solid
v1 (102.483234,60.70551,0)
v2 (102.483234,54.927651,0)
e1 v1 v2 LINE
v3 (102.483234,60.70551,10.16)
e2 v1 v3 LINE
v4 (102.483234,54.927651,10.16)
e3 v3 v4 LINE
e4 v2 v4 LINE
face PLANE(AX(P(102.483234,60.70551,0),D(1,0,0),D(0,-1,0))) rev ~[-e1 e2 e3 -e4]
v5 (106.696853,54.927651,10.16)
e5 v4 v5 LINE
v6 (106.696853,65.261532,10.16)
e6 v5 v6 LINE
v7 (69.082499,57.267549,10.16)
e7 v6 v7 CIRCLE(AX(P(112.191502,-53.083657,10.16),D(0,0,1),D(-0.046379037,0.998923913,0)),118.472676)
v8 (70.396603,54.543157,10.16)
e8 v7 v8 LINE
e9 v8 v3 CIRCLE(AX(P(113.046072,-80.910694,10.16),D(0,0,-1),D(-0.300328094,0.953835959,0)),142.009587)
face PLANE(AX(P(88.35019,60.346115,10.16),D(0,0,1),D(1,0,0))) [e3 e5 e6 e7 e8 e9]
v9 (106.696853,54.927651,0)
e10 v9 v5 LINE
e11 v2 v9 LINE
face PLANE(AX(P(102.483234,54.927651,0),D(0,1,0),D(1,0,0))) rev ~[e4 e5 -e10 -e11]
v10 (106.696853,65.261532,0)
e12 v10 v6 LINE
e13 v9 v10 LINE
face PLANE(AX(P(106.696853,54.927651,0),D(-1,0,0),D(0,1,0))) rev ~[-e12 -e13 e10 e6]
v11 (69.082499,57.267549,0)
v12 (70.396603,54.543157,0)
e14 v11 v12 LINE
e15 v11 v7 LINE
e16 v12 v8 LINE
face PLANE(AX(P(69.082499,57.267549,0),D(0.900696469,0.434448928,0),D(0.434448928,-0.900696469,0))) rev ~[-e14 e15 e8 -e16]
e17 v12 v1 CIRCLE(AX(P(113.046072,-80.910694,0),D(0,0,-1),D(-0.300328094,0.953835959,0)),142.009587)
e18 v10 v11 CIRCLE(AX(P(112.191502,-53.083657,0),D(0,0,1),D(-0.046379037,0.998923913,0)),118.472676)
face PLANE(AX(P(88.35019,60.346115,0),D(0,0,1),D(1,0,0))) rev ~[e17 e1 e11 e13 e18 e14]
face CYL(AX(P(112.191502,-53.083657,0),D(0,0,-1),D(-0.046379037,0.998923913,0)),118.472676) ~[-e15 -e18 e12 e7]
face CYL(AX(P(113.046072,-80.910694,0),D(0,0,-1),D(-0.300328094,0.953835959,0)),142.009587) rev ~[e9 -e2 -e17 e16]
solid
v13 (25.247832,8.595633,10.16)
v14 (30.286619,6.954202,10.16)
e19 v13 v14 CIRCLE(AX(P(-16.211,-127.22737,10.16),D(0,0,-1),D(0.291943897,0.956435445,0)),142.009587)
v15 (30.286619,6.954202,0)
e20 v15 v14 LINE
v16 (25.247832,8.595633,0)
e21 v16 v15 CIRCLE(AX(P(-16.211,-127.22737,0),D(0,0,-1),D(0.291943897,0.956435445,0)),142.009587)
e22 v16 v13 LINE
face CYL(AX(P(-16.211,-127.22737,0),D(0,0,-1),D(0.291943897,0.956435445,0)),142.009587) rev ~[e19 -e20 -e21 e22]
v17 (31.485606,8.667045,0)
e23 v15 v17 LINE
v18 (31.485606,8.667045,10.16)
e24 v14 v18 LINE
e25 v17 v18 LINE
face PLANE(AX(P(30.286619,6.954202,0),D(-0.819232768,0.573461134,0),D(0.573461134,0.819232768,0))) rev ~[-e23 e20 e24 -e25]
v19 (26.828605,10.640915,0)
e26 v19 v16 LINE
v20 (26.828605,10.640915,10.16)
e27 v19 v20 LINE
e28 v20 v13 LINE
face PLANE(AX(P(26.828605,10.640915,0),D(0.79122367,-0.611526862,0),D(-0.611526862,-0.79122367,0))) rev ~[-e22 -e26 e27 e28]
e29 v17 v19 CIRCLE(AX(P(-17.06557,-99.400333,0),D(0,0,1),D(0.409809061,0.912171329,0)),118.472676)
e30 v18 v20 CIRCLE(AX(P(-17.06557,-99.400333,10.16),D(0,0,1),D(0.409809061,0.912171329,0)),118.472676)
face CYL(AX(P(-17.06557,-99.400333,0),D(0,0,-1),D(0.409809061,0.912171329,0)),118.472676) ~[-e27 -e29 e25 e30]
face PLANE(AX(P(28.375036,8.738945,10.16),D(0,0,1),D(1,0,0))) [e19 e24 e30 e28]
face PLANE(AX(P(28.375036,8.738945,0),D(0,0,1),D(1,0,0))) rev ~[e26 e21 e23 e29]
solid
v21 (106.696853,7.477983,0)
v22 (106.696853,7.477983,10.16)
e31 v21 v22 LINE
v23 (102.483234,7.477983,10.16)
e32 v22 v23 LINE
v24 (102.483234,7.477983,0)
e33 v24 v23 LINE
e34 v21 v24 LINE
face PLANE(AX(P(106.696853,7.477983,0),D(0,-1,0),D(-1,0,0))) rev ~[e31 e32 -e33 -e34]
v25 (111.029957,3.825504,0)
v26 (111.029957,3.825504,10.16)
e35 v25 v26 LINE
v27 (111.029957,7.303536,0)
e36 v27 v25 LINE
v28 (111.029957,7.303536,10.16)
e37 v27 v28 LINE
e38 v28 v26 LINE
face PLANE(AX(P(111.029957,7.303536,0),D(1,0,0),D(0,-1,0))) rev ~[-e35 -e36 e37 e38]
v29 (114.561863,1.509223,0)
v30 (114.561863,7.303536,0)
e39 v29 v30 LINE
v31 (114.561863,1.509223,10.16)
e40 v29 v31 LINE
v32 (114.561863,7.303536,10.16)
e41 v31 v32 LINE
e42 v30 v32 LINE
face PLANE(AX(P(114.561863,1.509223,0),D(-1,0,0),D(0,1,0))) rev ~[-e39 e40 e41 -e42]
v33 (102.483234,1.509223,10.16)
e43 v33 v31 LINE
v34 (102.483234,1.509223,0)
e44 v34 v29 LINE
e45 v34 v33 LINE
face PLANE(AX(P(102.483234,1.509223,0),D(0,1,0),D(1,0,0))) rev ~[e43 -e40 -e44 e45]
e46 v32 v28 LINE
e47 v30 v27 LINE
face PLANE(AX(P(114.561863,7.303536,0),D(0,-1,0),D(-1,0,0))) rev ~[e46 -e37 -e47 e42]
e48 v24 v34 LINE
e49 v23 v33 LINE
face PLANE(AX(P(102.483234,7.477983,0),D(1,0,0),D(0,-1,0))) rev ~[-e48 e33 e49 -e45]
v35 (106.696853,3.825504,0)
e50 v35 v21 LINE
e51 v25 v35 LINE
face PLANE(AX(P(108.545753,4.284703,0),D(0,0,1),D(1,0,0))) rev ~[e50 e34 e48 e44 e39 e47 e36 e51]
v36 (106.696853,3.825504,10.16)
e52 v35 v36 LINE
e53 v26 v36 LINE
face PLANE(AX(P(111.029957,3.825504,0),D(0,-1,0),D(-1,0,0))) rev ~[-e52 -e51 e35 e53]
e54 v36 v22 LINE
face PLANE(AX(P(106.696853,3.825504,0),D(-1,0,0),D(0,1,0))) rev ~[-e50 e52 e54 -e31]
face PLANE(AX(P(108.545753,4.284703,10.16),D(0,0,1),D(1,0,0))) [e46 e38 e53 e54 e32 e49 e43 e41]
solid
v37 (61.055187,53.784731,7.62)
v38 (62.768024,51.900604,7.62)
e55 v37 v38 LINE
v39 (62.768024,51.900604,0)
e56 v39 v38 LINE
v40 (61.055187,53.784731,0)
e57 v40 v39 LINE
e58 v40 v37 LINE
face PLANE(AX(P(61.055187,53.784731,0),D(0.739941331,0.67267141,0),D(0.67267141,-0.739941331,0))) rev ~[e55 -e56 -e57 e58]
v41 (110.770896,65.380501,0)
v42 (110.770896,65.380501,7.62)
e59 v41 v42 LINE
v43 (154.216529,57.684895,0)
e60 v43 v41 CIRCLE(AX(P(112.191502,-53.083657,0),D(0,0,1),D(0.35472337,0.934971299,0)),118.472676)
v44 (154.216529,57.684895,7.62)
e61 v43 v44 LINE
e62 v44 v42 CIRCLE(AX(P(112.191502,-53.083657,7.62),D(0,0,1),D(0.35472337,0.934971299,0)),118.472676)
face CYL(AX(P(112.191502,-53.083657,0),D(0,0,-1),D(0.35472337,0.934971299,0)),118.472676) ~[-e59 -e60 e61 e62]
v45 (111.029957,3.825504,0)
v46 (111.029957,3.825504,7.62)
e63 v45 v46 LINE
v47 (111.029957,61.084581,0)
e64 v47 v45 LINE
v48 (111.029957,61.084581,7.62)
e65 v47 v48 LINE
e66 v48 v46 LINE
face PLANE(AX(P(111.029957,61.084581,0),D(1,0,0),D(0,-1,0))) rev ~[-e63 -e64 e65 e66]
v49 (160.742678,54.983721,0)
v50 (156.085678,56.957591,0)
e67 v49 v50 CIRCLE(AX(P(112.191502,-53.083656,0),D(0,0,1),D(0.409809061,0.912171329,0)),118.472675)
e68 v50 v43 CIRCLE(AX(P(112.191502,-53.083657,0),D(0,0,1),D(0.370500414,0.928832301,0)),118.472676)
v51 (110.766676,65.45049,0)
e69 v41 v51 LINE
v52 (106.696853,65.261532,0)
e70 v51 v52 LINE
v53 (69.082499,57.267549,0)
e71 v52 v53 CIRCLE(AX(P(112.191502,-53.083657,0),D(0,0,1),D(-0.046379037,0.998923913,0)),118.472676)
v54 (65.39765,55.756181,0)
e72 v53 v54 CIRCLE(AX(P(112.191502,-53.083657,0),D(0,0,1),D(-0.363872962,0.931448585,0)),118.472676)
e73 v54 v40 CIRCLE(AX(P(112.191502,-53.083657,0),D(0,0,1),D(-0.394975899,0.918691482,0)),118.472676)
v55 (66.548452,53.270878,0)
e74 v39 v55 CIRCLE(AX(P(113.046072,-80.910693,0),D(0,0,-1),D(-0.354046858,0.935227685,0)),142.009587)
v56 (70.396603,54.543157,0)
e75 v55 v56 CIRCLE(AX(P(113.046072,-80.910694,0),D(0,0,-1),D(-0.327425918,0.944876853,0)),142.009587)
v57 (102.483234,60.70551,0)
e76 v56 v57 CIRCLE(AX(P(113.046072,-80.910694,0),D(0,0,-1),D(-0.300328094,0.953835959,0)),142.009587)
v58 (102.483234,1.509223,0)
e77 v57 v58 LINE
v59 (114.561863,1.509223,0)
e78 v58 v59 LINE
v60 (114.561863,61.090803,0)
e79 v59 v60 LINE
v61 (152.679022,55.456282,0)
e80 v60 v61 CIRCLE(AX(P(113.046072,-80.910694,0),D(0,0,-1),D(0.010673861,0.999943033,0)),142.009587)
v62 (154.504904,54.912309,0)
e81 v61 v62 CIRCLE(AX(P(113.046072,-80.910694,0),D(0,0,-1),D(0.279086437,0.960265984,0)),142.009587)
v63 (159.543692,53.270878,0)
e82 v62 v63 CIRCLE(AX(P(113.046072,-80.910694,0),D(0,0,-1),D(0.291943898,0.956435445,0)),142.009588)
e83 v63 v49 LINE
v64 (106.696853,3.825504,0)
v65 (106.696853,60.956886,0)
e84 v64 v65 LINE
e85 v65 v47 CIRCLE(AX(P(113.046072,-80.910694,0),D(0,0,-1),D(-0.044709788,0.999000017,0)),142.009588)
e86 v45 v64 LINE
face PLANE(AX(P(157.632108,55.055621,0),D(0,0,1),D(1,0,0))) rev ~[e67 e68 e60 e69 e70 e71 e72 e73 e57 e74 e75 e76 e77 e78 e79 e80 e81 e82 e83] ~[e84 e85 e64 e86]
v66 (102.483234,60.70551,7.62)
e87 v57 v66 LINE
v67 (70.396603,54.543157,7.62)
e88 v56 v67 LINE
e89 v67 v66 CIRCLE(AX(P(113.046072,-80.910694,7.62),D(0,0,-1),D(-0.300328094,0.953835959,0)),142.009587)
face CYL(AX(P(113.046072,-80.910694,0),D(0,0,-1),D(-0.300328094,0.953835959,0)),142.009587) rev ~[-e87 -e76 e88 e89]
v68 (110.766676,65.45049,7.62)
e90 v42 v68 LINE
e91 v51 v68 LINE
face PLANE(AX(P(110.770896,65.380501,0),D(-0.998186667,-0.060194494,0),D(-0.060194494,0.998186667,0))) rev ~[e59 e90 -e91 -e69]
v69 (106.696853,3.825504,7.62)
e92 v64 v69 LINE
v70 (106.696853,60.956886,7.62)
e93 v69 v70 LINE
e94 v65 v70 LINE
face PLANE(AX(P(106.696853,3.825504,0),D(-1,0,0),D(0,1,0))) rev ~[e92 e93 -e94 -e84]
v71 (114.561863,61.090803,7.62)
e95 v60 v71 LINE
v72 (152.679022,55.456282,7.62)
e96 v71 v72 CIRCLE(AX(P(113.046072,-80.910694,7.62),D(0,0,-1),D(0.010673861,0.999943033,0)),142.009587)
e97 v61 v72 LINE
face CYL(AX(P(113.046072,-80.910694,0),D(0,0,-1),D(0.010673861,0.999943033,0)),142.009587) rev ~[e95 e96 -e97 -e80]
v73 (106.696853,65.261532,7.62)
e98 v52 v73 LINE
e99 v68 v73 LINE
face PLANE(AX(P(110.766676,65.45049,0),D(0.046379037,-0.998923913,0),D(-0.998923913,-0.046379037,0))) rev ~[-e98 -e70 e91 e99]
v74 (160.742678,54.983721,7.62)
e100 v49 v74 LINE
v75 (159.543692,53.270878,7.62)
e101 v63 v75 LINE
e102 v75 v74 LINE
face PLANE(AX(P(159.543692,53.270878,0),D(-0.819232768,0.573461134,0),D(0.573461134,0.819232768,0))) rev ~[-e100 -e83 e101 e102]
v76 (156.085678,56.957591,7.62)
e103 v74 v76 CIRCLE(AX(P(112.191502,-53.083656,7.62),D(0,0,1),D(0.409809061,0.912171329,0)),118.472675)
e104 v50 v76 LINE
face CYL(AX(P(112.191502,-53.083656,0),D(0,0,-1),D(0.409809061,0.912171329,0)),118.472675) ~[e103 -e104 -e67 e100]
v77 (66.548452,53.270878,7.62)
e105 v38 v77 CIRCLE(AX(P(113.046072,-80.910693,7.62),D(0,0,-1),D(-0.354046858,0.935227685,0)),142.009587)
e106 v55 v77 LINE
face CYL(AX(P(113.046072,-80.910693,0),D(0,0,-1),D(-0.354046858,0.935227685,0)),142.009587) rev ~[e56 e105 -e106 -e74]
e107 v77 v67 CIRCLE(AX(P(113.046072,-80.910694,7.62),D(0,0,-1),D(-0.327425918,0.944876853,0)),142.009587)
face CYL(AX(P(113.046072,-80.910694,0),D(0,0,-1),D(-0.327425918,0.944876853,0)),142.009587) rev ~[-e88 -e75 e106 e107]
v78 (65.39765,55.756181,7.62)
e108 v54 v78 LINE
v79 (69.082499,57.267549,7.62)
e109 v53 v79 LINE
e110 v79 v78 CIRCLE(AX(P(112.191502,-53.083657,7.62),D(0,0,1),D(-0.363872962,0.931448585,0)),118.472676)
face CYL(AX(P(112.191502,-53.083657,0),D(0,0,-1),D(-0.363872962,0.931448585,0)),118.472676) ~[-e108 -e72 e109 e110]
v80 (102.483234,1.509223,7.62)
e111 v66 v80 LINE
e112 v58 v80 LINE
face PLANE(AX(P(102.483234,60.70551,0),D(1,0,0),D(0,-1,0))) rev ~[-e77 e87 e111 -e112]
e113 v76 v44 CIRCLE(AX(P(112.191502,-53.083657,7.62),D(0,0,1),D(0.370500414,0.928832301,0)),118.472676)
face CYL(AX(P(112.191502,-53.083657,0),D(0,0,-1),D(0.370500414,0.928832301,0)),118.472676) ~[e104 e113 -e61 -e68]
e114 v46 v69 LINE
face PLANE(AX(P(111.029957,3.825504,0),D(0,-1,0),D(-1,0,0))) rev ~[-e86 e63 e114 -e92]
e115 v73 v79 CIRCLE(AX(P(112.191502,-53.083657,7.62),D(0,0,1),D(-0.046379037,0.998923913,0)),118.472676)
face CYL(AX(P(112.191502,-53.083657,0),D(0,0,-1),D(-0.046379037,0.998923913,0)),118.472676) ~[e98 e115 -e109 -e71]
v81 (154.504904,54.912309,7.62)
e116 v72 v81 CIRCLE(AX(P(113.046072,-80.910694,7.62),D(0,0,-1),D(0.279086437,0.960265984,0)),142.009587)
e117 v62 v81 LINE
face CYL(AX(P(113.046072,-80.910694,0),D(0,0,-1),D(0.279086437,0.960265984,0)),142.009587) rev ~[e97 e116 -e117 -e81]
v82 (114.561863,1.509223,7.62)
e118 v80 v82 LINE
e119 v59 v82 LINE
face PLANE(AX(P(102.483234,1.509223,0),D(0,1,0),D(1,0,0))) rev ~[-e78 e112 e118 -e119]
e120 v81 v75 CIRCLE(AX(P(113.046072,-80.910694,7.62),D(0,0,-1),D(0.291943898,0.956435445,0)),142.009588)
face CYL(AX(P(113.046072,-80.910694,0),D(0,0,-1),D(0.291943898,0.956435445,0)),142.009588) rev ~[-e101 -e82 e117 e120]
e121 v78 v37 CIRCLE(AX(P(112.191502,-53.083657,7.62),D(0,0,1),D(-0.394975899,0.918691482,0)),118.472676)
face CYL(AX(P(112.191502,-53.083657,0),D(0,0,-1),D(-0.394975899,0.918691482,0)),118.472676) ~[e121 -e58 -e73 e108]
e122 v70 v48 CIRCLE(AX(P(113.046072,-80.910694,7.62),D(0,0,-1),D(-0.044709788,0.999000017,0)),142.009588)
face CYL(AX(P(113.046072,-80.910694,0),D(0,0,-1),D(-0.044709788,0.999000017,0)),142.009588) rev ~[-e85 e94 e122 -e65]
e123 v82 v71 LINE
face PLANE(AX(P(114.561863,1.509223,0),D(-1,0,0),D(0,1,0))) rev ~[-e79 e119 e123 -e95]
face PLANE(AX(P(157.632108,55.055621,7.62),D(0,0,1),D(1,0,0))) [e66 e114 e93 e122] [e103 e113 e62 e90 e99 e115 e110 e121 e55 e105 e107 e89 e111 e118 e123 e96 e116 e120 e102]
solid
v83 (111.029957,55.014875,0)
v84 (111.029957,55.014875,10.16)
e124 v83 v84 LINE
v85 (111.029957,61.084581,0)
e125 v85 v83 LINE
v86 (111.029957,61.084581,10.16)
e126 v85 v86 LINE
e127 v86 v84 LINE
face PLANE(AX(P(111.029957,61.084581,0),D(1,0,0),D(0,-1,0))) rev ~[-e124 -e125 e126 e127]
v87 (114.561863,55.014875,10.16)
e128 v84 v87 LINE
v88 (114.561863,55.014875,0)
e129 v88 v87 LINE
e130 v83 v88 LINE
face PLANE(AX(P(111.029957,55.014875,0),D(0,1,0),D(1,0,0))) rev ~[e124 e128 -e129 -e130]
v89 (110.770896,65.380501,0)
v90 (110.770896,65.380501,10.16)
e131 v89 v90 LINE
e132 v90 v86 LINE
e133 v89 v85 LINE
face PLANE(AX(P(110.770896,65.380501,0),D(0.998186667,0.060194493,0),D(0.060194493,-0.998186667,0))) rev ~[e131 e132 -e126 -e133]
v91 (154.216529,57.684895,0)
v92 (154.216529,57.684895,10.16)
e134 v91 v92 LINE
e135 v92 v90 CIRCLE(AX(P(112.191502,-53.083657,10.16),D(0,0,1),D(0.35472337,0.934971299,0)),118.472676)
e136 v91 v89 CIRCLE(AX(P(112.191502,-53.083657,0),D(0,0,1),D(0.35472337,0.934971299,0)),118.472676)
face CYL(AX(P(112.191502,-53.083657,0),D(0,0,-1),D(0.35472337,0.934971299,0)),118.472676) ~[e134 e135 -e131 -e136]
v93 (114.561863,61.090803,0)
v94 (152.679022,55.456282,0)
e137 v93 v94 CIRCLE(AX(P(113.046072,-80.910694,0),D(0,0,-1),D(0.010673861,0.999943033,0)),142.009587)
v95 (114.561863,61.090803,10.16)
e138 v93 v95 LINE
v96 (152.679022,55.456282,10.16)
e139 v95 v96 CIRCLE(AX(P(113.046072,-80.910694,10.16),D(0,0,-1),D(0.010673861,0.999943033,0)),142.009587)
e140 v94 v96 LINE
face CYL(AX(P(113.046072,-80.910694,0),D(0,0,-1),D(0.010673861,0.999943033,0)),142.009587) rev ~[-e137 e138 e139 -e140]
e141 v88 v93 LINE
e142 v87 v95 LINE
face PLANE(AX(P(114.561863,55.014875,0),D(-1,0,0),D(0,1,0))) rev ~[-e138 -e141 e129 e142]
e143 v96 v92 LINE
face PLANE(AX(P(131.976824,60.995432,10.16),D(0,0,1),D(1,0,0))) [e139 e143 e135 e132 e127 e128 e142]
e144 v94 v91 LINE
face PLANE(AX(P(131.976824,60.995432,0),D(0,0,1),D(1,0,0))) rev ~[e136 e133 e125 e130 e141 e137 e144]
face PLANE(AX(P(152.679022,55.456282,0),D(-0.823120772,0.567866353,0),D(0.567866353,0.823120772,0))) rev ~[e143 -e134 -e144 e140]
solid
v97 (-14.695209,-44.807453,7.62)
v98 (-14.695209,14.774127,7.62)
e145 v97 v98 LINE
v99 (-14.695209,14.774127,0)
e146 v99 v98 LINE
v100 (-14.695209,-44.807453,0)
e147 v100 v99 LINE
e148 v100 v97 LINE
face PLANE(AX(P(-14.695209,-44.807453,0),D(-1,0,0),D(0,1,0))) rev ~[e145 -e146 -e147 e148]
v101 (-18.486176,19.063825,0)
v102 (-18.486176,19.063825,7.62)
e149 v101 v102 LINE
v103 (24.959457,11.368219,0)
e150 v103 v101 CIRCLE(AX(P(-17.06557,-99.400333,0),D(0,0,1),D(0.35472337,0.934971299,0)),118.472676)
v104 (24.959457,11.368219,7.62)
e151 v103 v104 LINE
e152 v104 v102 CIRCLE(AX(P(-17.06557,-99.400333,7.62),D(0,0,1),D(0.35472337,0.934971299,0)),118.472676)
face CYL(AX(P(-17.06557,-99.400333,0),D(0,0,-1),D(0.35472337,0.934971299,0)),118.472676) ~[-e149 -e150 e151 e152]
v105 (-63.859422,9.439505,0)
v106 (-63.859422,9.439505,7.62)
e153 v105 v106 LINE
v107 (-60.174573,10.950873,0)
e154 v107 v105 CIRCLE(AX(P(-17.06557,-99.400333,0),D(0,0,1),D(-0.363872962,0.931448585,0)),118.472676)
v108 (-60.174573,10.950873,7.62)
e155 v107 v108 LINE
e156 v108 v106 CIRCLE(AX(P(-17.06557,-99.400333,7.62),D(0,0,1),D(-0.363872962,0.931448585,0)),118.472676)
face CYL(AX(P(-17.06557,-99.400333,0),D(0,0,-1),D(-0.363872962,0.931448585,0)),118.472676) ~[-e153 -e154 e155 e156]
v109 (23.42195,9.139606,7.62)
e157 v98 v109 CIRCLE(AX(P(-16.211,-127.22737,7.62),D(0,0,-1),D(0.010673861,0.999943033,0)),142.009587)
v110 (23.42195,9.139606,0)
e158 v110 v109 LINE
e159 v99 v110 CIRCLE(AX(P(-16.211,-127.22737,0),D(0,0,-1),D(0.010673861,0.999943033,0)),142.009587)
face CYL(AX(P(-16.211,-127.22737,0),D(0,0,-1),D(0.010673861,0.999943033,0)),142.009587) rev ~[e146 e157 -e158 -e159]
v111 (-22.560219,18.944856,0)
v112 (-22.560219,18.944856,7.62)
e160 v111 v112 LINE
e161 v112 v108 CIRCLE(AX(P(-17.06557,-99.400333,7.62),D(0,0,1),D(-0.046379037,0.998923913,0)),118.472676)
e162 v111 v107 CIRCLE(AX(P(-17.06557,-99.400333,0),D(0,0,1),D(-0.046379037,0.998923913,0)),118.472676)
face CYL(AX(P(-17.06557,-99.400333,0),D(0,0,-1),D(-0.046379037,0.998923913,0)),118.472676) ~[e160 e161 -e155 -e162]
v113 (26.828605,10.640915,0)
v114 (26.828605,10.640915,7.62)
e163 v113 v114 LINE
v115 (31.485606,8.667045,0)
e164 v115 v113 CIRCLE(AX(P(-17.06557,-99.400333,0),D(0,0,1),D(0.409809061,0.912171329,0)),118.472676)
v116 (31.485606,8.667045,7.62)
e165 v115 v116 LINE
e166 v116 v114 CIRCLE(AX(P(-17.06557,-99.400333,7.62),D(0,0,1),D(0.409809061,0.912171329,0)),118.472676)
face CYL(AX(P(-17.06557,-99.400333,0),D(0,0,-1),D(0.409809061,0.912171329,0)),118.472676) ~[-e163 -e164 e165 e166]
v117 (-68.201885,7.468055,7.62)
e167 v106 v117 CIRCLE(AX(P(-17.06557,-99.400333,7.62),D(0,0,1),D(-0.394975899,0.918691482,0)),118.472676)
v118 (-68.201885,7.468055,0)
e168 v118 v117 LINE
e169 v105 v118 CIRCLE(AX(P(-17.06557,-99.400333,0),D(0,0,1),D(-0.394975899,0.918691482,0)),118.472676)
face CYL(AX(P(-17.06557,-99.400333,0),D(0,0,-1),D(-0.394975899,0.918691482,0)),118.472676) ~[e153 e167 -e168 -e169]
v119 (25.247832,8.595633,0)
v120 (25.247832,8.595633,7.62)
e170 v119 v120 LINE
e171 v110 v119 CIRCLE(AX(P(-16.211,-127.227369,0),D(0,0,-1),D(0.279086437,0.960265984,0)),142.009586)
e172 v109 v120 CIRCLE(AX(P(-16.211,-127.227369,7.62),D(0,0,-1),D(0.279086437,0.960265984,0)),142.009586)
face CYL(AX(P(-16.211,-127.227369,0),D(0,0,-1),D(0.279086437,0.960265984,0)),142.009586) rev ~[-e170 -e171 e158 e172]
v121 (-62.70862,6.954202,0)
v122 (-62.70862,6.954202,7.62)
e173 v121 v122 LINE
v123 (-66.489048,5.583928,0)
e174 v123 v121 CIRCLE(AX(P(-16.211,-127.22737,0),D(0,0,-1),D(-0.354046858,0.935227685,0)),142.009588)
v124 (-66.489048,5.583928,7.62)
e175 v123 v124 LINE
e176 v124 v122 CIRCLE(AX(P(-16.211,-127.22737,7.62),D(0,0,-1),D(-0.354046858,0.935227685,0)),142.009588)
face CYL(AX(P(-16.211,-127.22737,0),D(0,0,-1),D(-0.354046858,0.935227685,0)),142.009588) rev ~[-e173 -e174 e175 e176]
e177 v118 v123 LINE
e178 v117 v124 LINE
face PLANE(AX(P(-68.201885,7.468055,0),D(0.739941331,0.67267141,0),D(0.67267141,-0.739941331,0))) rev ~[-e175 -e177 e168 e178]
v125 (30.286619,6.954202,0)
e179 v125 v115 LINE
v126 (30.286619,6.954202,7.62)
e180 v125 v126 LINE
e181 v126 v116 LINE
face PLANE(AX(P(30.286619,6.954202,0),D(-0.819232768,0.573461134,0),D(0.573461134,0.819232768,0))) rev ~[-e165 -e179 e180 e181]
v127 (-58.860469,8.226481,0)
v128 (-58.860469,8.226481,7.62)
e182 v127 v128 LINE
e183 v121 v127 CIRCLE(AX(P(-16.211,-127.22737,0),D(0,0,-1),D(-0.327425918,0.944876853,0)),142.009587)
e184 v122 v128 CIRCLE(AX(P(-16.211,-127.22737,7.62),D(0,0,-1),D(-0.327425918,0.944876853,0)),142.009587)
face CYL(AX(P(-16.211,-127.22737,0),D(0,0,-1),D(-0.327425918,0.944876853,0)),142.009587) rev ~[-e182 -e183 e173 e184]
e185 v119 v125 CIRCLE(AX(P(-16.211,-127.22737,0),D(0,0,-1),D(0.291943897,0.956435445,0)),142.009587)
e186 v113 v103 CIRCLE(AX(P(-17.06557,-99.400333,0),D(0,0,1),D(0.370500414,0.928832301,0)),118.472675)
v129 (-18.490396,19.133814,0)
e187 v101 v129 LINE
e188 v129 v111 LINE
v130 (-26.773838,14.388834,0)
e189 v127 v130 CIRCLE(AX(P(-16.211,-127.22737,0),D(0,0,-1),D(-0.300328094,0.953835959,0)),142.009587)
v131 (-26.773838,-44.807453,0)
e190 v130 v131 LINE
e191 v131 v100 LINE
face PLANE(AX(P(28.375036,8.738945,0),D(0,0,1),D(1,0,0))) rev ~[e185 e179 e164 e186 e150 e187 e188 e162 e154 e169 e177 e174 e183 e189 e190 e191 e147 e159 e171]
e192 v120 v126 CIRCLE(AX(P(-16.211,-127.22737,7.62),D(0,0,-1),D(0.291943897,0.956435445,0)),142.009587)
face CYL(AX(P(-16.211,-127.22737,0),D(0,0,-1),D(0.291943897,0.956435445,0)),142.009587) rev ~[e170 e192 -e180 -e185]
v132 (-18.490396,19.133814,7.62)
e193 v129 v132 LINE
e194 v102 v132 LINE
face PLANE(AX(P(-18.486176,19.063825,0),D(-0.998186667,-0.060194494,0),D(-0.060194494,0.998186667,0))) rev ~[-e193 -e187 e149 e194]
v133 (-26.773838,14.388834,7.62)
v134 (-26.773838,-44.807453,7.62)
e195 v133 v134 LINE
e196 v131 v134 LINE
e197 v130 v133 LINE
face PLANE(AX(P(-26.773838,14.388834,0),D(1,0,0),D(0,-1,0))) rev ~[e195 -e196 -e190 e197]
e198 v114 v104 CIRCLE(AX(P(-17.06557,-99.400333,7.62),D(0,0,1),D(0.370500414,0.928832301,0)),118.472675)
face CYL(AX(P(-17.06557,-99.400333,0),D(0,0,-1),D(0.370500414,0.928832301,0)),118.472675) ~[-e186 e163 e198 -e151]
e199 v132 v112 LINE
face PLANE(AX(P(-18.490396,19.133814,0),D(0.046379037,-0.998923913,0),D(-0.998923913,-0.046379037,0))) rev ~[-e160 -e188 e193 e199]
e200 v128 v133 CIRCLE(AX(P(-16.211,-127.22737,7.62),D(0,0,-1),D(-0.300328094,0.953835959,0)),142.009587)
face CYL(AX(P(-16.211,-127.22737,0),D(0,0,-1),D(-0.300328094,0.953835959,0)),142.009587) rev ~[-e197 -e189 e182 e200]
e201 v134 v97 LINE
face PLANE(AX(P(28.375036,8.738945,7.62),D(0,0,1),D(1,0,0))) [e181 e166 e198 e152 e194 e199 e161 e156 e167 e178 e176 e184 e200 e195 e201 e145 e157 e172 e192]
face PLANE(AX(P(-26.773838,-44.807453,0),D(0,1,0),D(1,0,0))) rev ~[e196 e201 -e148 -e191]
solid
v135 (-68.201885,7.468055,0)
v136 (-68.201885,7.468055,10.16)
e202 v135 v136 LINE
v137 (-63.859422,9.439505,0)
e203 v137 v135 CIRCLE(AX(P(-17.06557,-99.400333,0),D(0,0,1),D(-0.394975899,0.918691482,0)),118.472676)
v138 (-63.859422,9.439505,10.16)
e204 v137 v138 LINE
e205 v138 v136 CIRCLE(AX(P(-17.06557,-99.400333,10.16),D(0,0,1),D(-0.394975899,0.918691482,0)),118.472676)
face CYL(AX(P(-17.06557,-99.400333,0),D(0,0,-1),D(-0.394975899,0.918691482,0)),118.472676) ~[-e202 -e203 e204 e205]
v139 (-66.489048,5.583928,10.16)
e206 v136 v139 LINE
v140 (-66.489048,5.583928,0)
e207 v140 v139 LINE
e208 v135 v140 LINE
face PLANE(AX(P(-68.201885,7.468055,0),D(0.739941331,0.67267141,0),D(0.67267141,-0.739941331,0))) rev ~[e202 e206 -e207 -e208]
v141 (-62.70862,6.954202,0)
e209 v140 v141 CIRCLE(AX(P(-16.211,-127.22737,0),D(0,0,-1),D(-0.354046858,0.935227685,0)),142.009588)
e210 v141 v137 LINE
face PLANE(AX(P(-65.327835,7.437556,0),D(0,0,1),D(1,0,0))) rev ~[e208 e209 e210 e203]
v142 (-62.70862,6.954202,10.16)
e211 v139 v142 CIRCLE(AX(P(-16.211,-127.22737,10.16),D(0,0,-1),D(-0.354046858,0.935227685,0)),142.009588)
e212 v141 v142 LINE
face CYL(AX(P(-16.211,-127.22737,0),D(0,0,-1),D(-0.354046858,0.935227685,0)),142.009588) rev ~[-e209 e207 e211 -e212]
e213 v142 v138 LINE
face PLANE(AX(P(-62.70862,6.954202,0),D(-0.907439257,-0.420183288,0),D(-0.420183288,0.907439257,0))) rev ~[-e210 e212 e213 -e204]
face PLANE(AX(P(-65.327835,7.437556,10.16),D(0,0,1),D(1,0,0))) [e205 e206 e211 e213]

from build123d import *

# Parameters (mm, degrees)
F1_DEPTH = 10.16
F2_DEPTH = 7.62
F0_W     = 3.5319058225
F0_H     = 47.7113383822
F0_W_2   = 4.2136191335
F0_H_2   = 47.4496674724


with BuildPart() as f1:
    # F0 (on Top) → F1 (new body)
    with BuildSketch(Plane.XY):
        with BuildLine():
            Line((-62.7086196105, 6.9542019628), (-63.859421589, 9.4395052171))
            ThreePointArc((-63.859421589, 9.4395052171), (-66.0405740146, 8.4756323991), (-68.2018846273, 7.4680545367))
            Line((-68.2018846273, 7.4680545367), (-66.4890483022, 5.583927501))
            ThreePointArc((-66.4890483022, 5.583927501), (-64.6036842406, 6.282446105), (-62.7086196105, 6.9542019628))
        make_face()
    extrude(amount=F1_DEPTH)


with BuildPart() as f1b:
    # F0 (on Top) → F1, piece 2 (new body)
    with BuildSketch(Plane.XY):
        with BuildLine():
            Line((30.2866194397, 6.9542019628), (31.4856059849, 8.6670452729))
            ThreePointArc((31.4856059849, 8.6670452729), (29.1676409192, 9.6788361604), (26.828605468, 10.6409151614))
            Line((26.828605468, 10.6409151614), (25.2478323508, 8.5956327954))
            ThreePointArc((25.2478323508, 8.5956327954), (27.774883266, 7.7984236152), (30.2866194397, 6.9542019628))
        make_face()
    extrude(amount=F1_DEPTH)


with BuildPart() as f1c:
    # F0 (on Top) → F1, piece 3 (new body)
    with BuildSketch(Plane.XY):
        with BuildLine():
            Line((106.6968534909, 60.9568862112), (106.6968534909, 65.2615321239))
            ThreePointArc((106.6968534909, 65.2615321239), (87.5631710955, 62.8008556066), (69.0824986497, 57.2675494628))
            Line((69.0824986497, 57.2675494628), (70.3966033264, 54.5431568671))
            ThreePointArc((70.3966033264, 54.5431568671), (86.2621022387, 58.5502032273), (102.4832343575, 60.7055104108))
            ThreePointArc((102.4832343575, 60.7055104108), (104.5891098819, 60.8468549434), (106.6968534909, 60.9568862112))
        make_face()
        with BuildLine():
            Line((106.6968534909, 54.9276508391), (106.6968534909, 60.9568862112))
            ThreePointArc((106.6968534909, 60.9568862112), (104.5891098819, 60.8468549434), (102.4832343575, 60.7055104108))
            Line((102.4832343575, 60.7055104108), (102.4832343575, 54.9276508391))
            Line((102.4832343575, 54.9276508391), (106.6968534909, 54.9276508391))
        make_face()
    extrude(amount=F1_DEPTH)


with BuildPart() as f1d:
    # F0 (on Top) → F1, piece 4 (new body)
    with BuildSketch(Plane.XY):
        with BuildLine():
            Line((152.679021715, 55.456282163), (154.2165289348, 57.684894801))
            ThreePointArc((154.2165289348, 57.684894801), (132.855125745, 63.57305995), (110.7708962956, 65.3805014253))
            Line((110.7708962956, 65.3805014253), (111.0299568016, 61.084581168))
            ThreePointArc((111.0299568016, 61.084581168), (112.7958903679, 61.0986729433), (114.561862624, 61.090803419))
            ThreePointArc((114.561862624, 61.090803419), (133.8124309807, 59.5723342457), (152.679021715, 55.456282163))
        make_face()
        with BuildLine():
            ThreePointArc((114.561862624, 61.090803419), (112.7958903679, 61.0986729433), (111.0299568016, 61.084581168))
            Line((111.0299568016, 61.084581168), (111.0299568016, 55.0148747861))
            Line((111.0299568016, 55.0148747861), (114.561862624, 55.0148747861))
            Line((114.561862624, 55.0148747861), (114.561862624, 61.090803419))
        make_face()
    extrude(amount=F1_DEPTH)


with BuildPart() as f1e:
    # F0 (on Top) → F1, piece 5 (new body)
    with BuildSketch(Plane.XY):
        Polygon((114.561862624, 7.3035364039), (111.0299568016, 7.3035364039), (111.0299568016, 3.8255042981), (106.6968534909, 3.8255042981), (106.6968534909, 7.4779833667), (102.4832343575, 7.4779833667), (102.4832343575, 1.5092226963), (114.561862624, 1.5092226963), align=None)
    extrude(amount=F1_DEPTH)


with BuildPart() as f2:
    # F0 (on Top) → F2 (new body)
    with BuildSketch(Plane.XY):
        with BuildLine():
            Line((30.2866194397, 6.9542019628), (31.4856059849, 8.6670452729))
            ThreePointArc((31.4856059849, 8.6670452729), (29.1676409192, 9.6788361604), (26.828605468, 10.6409151614))
            Line((26.828605468, 10.6409151614), (25.2478323508, 8.5956327954))
            ThreePointArc((25.2478323508, 8.5956327954), (27.774883266, 7.7984236152), (30.2866194397, 6.9542019628))
        make_face()
        with BuildLine():
            Line((25.2478323508, 8.5956327954), (26.828605468, 10.6409151614))
            ThreePointArc((26.828605468, 10.6409151614), (25.8955702873, 11.0085224522), (24.9594568597, 11.3682187401))
            Line((24.9594568597, 11.3682187401), (23.4219496399, 9.139606102))
            ThreePointArc((23.4219496399, 9.139606102), (24.3358032445, 8.8706814738), (25.2478323508, 8.5956327954))
        make_face()
        with BuildLine():
            Line((23.4219496399, 9.139606102), (24.9594568597, 11.3682187401))
            ThreePointArc((24.9594568597, 11.3682187401), (3.5980536699, 17.256383889), (-18.4861757794, 19.0638253644))
            Line((-18.4861757794, 19.0638253644), (-18.2271152735, 14.7679051071))
            ThreePointArc((-18.2271152735, 14.7679051071), (-16.4611817071, 14.7819968824), (-14.695209451, 14.7741273581))
            ThreePointArc((-14.695209451, 14.7741273581), (4.5553589056, 13.2556581848), (23.4219496399, 9.139606102))
        make_face()
        with BuildLine():
            Line((-18.2271152735, 14.7679051071), (-18.4861757794, 19.0638253644))
            ThreePointArc((-18.4861757794, 19.0638253644), (-20.5237088277, 19.021861767), (-22.5602185841, 18.9448560629))
            Line((-22.5602185841, 18.9448560629), (-22.5602185841, 14.6402101502))
            ThreePointArc((-22.5602185841, 14.6402101502), (-20.3941542092, 14.7205926299), (-18.2271152735, 14.7679051071))
        make_face()
        with BuildLine():
            ThreePointArc((-22.5602185841, 18.9448560629), (-20.5237088277, 19.021861767), (-18.4861757794, 19.0638253644))
            Line((-18.4861757794, 19.0638253644), (-18.4903963532, 19.1338138341))
            Line((-18.4903963532, 19.1338138341), (-22.5602185841, 18.9448560629))
        make_face()
        with BuildLine():
            Line((-22.5602185841, 14.6402101502), (-22.5602185841, 18.9448560629))
            ThreePointArc((-22.5602185841, 18.9448560629), (-41.6939009795, 16.4841795457), (-60.1745734254, 10.9508734019))
            Line((-60.1745734254, 10.9508734019), (-58.8604687486, 8.2264808061))
            ThreePointArc((-58.8604687486, 8.2264808061), (-42.9949698363, 12.2335271664), (-26.7738377176, 14.3888343499))
            ThreePointArc((-26.7738377176, 14.3888343499), (-24.6679621931, 14.5301788825), (-22.5602185841, 14.6402101502))
        make_face()
        with BuildLine():
            ThreePointArc((-14.695209451, 14.7741273581), (-16.4611817071, 14.7819968824), (-18.2271152735, 14.7679051071))
            Line((-18.2271152735, 14.7679051071), (-18.2271152735, -42.4911717629))
            Line((-18.2271152735, -42.4911717629), (-22.5602185841, -42.4911717629))
            Line((-22.5602185841, -42.4911717629), (-22.5602185841, 14.6402101502))
            ThreePointArc((-22.5602185841, 14.6402101502), (-24.6679621931, 14.5301788825), (-26.7738377176, 14.3888343499))
            Line((-26.7738377176, 14.3888343499), (-26.7738377176, -44.8074533647))
            Line((-26.7738377176, -44.8074533647), (-14.695209451, -44.8074533647))
            Line((-14.695209451, -44.8074533647), (-14.695209451, 14.7741273581))
        make_face()
        with BuildLine():
            Line((-58.8604687486, 8.2264808061), (-60.1745734254, 10.9508734019))
            ThreePointArc((-60.1745734254, 10.9508734019), (-62.0233490085, 10.2106748268), (-63.859421589, 9.4395052171))
            Line((-63.859421589, 9.4395052171), (-62.7086196105, 6.9542019628))
            ThreePointArc((-62.7086196105, 6.9542019628), (-60.789083338, 7.6040705812), (-58.8604687486, 8.2264808061))
        make_face()
        with BuildLine():
            Line((-62.7086196105, 6.9542019628), (-63.859421589, 9.4395052171))
            ThreePointArc((-63.859421589, 9.4395052171), (-66.0405740146, 8.4756323991), (-68.2018846273, 7.4680545367))
            Line((-68.2018846273, 7.4680545367), (-66.4890483022, 5.583927501))
            ThreePointArc((-66.4890483022, 5.583927501), (-64.6036842406, 6.282446105), (-62.7086196105, 6.9542019628))
        make_face()
        with BuildLine():
            Line((-18.2271152735, -42.4911717629), (-18.2271152735, 14.7679051071))
            ThreePointArc((-18.2271152735, 14.7679051071), (-20.3941542092, 14.7205926299), (-22.5602185841, 14.6402101502))
            Line((-22.5602185841, 14.6402101502), (-22.5602185841, -42.4911717629))
            Line((-22.5602185841, -42.4911717629), (-18.2271152735, -42.4911717629))
        make_face()
    extrude(amount=F2_DEPTH)


with BuildPart() as f2b:
    # F0 (on Top) → F2, piece 2 (new body)
    with BuildSketch(Plane.XY):
        with BuildLine():
            Line((159.5436915147, 53.2708780237), (160.74267806, 54.9837213338))
            ThreePointArc((160.74267806, 54.9837213338), (158.4247129942, 55.9955122214), (156.085677543, 56.9575912223))
            Line((156.085677543, 56.9575912223), (154.5049044258, 54.9123088564))
            ThreePointArc((154.5049044258, 54.9123088564), (157.031955341, 54.1150996761), (159.5436915147, 53.2708780237))
        make_face()
        with BuildLine():
            Line((154.5049044258, 54.9123088564), (156.085677543, 56.9575912223))
            ThreePointArc((156.085677543, 56.9575912223), (155.1526423623, 57.3251985131), (154.2165289348, 57.684894801))
            Line((154.2165289348, 57.684894801), (152.679021715, 55.456282163))
            ThreePointArc((152.679021715, 55.456282163), (153.5928753195, 55.1873575348), (154.5049044258, 54.9123088564))
        make_face()
        with BuildLine():
            Line((152.679021715, 55.456282163), (154.2165289348, 57.684894801))
            ThreePointArc((154.2165289348, 57.684894801), (132.855125745, 63.57305995), (110.7708962956, 65.3805014253))
            Line((110.7708962956, 65.3805014253), (111.0299568016, 61.084581168))
            ThreePointArc((111.0299568016, 61.084581168), (112.7958903679, 61.0986729433), (114.561862624, 61.090803419))
            ThreePointArc((114.561862624, 61.090803419), (133.8124309807, 59.5723342457), (152.679021715, 55.456282163))
        make_face()
        with BuildLine():
            Line((111.0299568016, 61.084581168), (110.7708962956, 65.3805014253))
            ThreePointArc((110.7708962956, 65.3805014253), (108.7333632473, 65.338537828), (106.6968534909, 65.2615321239))
            Line((106.6968534909, 65.2615321239), (106.6968534909, 60.9568862112))
            ThreePointArc((106.6968534909, 60.9568862112), (108.8629178658, 61.0372686908), (111.0299568016, 61.084581168))
        make_face()
        with BuildLine():
            ThreePointArc((106.6968534909, 65.2615321239), (108.7333632473, 65.338537828), (110.7708962956, 65.3805014253))
            Line((110.7708962956, 65.3805014253), (110.7666757218, 65.4504898951))
            Line((110.7666757218, 65.4504898951), (106.6968534909, 65.2615321239))
        make_face()
        with BuildLine():
            Line((106.6968534909, 60.9568862112), (106.6968534909, 65.2615321239))
            ThreePointArc((106.6968534909, 65.2615321239), (87.5631710955, 62.8008556066), (69.0824986497, 57.2675494628))
            Line((69.0824986497, 57.2675494628), (70.3966033264, 54.5431568671))
            ThreePointArc((70.3966033264, 54.5431568671), (86.2621022387, 58.5502032273), (102.4832343575, 60.7055104108))
            ThreePointArc((102.4832343575, 60.7055104108), (104.5891098819, 60.8468549434), (106.6968534909, 60.9568862112))
        make_face()
        with BuildLine():
            ThreePointArc((114.561862624, 61.090803419), (112.7958903679, 61.0986729433), (111.0299568016, 61.084581168))
            Line((111.0299568016, 61.084581168), (111.0299568016, 55.0148747861))
            Line((111.0299568016, 55.0148747861), (114.561862624, 55.0148747861))
            Line((114.561862624, 55.0148747861), (114.561862624, 61.090803419))
        make_face()
        with BuildLine():
            Line((70.3966033264, 54.5431568671), (69.0824986497, 57.2675494628))
            ThreePointArc((69.0824986497, 57.2675494628), (67.2337230665, 56.5273508877), (65.3976504861, 55.7561812781))
            Line((65.3976504861, 55.7561812781), (66.5484524645, 53.2708780237))
            ThreePointArc((66.5484524645, 53.2708780237), (68.467988737, 53.9207466422), (70.3966033264, 54.5431568671))
        make_face()
        with BuildLine():
            Line((106.6968534909, 54.9276508391), (106.6968534909, 60.9568862112))
            ThreePointArc((106.6968534909, 60.9568862112), (104.5891098819, 60.8468549434), (102.4832343575, 60.7055104108))
            Line((102.4832343575, 60.7055104108), (102.4832343575, 54.9276508391))
            Line((102.4832343575, 54.9276508391), (106.6968534909, 54.9276508391))
        make_face()
        with Locations((112.7959097128, 31.159205595)):
            Rectangle(F0_W, F0_H)
        with BuildLine():
            Line((66.5484524645, 53.2708780237), (65.3976504861, 55.7561812781))
            ThreePointArc((65.3976504861, 55.7561812781), (63.2164980604, 54.7923084601), (61.0551874477, 53.7847305977))
            Line((61.0551874477, 53.7847305977), (62.7680237729, 51.9006035619))
            ThreePointArc((62.7680237729, 51.9006035619), (64.6533878344, 52.599122166), (66.5484524645, 53.2708780237))
        make_face()
        with Locations((104.5900439242, 31.2028171029)):
            Rectangle(F0_W_2, F0_H_2)
        Polygon((114.561862624, 7.3035364039), (111.0299568016, 7.3035364039), (111.0299568016, 3.8255042981), (106.6968534909, 3.8255042981), (106.6968534909, 7.4779833667), (102.4832343575, 7.4779833667), (102.4832343575, 1.5092226963), (114.561862624, 1.5092226963), align=None)
    extrude(amount=F2_DEPTH)


solid = Compound([f1.part, f1b.part, f1c.part, f1d.part, f1e.part, f2.part, f2b.part])
